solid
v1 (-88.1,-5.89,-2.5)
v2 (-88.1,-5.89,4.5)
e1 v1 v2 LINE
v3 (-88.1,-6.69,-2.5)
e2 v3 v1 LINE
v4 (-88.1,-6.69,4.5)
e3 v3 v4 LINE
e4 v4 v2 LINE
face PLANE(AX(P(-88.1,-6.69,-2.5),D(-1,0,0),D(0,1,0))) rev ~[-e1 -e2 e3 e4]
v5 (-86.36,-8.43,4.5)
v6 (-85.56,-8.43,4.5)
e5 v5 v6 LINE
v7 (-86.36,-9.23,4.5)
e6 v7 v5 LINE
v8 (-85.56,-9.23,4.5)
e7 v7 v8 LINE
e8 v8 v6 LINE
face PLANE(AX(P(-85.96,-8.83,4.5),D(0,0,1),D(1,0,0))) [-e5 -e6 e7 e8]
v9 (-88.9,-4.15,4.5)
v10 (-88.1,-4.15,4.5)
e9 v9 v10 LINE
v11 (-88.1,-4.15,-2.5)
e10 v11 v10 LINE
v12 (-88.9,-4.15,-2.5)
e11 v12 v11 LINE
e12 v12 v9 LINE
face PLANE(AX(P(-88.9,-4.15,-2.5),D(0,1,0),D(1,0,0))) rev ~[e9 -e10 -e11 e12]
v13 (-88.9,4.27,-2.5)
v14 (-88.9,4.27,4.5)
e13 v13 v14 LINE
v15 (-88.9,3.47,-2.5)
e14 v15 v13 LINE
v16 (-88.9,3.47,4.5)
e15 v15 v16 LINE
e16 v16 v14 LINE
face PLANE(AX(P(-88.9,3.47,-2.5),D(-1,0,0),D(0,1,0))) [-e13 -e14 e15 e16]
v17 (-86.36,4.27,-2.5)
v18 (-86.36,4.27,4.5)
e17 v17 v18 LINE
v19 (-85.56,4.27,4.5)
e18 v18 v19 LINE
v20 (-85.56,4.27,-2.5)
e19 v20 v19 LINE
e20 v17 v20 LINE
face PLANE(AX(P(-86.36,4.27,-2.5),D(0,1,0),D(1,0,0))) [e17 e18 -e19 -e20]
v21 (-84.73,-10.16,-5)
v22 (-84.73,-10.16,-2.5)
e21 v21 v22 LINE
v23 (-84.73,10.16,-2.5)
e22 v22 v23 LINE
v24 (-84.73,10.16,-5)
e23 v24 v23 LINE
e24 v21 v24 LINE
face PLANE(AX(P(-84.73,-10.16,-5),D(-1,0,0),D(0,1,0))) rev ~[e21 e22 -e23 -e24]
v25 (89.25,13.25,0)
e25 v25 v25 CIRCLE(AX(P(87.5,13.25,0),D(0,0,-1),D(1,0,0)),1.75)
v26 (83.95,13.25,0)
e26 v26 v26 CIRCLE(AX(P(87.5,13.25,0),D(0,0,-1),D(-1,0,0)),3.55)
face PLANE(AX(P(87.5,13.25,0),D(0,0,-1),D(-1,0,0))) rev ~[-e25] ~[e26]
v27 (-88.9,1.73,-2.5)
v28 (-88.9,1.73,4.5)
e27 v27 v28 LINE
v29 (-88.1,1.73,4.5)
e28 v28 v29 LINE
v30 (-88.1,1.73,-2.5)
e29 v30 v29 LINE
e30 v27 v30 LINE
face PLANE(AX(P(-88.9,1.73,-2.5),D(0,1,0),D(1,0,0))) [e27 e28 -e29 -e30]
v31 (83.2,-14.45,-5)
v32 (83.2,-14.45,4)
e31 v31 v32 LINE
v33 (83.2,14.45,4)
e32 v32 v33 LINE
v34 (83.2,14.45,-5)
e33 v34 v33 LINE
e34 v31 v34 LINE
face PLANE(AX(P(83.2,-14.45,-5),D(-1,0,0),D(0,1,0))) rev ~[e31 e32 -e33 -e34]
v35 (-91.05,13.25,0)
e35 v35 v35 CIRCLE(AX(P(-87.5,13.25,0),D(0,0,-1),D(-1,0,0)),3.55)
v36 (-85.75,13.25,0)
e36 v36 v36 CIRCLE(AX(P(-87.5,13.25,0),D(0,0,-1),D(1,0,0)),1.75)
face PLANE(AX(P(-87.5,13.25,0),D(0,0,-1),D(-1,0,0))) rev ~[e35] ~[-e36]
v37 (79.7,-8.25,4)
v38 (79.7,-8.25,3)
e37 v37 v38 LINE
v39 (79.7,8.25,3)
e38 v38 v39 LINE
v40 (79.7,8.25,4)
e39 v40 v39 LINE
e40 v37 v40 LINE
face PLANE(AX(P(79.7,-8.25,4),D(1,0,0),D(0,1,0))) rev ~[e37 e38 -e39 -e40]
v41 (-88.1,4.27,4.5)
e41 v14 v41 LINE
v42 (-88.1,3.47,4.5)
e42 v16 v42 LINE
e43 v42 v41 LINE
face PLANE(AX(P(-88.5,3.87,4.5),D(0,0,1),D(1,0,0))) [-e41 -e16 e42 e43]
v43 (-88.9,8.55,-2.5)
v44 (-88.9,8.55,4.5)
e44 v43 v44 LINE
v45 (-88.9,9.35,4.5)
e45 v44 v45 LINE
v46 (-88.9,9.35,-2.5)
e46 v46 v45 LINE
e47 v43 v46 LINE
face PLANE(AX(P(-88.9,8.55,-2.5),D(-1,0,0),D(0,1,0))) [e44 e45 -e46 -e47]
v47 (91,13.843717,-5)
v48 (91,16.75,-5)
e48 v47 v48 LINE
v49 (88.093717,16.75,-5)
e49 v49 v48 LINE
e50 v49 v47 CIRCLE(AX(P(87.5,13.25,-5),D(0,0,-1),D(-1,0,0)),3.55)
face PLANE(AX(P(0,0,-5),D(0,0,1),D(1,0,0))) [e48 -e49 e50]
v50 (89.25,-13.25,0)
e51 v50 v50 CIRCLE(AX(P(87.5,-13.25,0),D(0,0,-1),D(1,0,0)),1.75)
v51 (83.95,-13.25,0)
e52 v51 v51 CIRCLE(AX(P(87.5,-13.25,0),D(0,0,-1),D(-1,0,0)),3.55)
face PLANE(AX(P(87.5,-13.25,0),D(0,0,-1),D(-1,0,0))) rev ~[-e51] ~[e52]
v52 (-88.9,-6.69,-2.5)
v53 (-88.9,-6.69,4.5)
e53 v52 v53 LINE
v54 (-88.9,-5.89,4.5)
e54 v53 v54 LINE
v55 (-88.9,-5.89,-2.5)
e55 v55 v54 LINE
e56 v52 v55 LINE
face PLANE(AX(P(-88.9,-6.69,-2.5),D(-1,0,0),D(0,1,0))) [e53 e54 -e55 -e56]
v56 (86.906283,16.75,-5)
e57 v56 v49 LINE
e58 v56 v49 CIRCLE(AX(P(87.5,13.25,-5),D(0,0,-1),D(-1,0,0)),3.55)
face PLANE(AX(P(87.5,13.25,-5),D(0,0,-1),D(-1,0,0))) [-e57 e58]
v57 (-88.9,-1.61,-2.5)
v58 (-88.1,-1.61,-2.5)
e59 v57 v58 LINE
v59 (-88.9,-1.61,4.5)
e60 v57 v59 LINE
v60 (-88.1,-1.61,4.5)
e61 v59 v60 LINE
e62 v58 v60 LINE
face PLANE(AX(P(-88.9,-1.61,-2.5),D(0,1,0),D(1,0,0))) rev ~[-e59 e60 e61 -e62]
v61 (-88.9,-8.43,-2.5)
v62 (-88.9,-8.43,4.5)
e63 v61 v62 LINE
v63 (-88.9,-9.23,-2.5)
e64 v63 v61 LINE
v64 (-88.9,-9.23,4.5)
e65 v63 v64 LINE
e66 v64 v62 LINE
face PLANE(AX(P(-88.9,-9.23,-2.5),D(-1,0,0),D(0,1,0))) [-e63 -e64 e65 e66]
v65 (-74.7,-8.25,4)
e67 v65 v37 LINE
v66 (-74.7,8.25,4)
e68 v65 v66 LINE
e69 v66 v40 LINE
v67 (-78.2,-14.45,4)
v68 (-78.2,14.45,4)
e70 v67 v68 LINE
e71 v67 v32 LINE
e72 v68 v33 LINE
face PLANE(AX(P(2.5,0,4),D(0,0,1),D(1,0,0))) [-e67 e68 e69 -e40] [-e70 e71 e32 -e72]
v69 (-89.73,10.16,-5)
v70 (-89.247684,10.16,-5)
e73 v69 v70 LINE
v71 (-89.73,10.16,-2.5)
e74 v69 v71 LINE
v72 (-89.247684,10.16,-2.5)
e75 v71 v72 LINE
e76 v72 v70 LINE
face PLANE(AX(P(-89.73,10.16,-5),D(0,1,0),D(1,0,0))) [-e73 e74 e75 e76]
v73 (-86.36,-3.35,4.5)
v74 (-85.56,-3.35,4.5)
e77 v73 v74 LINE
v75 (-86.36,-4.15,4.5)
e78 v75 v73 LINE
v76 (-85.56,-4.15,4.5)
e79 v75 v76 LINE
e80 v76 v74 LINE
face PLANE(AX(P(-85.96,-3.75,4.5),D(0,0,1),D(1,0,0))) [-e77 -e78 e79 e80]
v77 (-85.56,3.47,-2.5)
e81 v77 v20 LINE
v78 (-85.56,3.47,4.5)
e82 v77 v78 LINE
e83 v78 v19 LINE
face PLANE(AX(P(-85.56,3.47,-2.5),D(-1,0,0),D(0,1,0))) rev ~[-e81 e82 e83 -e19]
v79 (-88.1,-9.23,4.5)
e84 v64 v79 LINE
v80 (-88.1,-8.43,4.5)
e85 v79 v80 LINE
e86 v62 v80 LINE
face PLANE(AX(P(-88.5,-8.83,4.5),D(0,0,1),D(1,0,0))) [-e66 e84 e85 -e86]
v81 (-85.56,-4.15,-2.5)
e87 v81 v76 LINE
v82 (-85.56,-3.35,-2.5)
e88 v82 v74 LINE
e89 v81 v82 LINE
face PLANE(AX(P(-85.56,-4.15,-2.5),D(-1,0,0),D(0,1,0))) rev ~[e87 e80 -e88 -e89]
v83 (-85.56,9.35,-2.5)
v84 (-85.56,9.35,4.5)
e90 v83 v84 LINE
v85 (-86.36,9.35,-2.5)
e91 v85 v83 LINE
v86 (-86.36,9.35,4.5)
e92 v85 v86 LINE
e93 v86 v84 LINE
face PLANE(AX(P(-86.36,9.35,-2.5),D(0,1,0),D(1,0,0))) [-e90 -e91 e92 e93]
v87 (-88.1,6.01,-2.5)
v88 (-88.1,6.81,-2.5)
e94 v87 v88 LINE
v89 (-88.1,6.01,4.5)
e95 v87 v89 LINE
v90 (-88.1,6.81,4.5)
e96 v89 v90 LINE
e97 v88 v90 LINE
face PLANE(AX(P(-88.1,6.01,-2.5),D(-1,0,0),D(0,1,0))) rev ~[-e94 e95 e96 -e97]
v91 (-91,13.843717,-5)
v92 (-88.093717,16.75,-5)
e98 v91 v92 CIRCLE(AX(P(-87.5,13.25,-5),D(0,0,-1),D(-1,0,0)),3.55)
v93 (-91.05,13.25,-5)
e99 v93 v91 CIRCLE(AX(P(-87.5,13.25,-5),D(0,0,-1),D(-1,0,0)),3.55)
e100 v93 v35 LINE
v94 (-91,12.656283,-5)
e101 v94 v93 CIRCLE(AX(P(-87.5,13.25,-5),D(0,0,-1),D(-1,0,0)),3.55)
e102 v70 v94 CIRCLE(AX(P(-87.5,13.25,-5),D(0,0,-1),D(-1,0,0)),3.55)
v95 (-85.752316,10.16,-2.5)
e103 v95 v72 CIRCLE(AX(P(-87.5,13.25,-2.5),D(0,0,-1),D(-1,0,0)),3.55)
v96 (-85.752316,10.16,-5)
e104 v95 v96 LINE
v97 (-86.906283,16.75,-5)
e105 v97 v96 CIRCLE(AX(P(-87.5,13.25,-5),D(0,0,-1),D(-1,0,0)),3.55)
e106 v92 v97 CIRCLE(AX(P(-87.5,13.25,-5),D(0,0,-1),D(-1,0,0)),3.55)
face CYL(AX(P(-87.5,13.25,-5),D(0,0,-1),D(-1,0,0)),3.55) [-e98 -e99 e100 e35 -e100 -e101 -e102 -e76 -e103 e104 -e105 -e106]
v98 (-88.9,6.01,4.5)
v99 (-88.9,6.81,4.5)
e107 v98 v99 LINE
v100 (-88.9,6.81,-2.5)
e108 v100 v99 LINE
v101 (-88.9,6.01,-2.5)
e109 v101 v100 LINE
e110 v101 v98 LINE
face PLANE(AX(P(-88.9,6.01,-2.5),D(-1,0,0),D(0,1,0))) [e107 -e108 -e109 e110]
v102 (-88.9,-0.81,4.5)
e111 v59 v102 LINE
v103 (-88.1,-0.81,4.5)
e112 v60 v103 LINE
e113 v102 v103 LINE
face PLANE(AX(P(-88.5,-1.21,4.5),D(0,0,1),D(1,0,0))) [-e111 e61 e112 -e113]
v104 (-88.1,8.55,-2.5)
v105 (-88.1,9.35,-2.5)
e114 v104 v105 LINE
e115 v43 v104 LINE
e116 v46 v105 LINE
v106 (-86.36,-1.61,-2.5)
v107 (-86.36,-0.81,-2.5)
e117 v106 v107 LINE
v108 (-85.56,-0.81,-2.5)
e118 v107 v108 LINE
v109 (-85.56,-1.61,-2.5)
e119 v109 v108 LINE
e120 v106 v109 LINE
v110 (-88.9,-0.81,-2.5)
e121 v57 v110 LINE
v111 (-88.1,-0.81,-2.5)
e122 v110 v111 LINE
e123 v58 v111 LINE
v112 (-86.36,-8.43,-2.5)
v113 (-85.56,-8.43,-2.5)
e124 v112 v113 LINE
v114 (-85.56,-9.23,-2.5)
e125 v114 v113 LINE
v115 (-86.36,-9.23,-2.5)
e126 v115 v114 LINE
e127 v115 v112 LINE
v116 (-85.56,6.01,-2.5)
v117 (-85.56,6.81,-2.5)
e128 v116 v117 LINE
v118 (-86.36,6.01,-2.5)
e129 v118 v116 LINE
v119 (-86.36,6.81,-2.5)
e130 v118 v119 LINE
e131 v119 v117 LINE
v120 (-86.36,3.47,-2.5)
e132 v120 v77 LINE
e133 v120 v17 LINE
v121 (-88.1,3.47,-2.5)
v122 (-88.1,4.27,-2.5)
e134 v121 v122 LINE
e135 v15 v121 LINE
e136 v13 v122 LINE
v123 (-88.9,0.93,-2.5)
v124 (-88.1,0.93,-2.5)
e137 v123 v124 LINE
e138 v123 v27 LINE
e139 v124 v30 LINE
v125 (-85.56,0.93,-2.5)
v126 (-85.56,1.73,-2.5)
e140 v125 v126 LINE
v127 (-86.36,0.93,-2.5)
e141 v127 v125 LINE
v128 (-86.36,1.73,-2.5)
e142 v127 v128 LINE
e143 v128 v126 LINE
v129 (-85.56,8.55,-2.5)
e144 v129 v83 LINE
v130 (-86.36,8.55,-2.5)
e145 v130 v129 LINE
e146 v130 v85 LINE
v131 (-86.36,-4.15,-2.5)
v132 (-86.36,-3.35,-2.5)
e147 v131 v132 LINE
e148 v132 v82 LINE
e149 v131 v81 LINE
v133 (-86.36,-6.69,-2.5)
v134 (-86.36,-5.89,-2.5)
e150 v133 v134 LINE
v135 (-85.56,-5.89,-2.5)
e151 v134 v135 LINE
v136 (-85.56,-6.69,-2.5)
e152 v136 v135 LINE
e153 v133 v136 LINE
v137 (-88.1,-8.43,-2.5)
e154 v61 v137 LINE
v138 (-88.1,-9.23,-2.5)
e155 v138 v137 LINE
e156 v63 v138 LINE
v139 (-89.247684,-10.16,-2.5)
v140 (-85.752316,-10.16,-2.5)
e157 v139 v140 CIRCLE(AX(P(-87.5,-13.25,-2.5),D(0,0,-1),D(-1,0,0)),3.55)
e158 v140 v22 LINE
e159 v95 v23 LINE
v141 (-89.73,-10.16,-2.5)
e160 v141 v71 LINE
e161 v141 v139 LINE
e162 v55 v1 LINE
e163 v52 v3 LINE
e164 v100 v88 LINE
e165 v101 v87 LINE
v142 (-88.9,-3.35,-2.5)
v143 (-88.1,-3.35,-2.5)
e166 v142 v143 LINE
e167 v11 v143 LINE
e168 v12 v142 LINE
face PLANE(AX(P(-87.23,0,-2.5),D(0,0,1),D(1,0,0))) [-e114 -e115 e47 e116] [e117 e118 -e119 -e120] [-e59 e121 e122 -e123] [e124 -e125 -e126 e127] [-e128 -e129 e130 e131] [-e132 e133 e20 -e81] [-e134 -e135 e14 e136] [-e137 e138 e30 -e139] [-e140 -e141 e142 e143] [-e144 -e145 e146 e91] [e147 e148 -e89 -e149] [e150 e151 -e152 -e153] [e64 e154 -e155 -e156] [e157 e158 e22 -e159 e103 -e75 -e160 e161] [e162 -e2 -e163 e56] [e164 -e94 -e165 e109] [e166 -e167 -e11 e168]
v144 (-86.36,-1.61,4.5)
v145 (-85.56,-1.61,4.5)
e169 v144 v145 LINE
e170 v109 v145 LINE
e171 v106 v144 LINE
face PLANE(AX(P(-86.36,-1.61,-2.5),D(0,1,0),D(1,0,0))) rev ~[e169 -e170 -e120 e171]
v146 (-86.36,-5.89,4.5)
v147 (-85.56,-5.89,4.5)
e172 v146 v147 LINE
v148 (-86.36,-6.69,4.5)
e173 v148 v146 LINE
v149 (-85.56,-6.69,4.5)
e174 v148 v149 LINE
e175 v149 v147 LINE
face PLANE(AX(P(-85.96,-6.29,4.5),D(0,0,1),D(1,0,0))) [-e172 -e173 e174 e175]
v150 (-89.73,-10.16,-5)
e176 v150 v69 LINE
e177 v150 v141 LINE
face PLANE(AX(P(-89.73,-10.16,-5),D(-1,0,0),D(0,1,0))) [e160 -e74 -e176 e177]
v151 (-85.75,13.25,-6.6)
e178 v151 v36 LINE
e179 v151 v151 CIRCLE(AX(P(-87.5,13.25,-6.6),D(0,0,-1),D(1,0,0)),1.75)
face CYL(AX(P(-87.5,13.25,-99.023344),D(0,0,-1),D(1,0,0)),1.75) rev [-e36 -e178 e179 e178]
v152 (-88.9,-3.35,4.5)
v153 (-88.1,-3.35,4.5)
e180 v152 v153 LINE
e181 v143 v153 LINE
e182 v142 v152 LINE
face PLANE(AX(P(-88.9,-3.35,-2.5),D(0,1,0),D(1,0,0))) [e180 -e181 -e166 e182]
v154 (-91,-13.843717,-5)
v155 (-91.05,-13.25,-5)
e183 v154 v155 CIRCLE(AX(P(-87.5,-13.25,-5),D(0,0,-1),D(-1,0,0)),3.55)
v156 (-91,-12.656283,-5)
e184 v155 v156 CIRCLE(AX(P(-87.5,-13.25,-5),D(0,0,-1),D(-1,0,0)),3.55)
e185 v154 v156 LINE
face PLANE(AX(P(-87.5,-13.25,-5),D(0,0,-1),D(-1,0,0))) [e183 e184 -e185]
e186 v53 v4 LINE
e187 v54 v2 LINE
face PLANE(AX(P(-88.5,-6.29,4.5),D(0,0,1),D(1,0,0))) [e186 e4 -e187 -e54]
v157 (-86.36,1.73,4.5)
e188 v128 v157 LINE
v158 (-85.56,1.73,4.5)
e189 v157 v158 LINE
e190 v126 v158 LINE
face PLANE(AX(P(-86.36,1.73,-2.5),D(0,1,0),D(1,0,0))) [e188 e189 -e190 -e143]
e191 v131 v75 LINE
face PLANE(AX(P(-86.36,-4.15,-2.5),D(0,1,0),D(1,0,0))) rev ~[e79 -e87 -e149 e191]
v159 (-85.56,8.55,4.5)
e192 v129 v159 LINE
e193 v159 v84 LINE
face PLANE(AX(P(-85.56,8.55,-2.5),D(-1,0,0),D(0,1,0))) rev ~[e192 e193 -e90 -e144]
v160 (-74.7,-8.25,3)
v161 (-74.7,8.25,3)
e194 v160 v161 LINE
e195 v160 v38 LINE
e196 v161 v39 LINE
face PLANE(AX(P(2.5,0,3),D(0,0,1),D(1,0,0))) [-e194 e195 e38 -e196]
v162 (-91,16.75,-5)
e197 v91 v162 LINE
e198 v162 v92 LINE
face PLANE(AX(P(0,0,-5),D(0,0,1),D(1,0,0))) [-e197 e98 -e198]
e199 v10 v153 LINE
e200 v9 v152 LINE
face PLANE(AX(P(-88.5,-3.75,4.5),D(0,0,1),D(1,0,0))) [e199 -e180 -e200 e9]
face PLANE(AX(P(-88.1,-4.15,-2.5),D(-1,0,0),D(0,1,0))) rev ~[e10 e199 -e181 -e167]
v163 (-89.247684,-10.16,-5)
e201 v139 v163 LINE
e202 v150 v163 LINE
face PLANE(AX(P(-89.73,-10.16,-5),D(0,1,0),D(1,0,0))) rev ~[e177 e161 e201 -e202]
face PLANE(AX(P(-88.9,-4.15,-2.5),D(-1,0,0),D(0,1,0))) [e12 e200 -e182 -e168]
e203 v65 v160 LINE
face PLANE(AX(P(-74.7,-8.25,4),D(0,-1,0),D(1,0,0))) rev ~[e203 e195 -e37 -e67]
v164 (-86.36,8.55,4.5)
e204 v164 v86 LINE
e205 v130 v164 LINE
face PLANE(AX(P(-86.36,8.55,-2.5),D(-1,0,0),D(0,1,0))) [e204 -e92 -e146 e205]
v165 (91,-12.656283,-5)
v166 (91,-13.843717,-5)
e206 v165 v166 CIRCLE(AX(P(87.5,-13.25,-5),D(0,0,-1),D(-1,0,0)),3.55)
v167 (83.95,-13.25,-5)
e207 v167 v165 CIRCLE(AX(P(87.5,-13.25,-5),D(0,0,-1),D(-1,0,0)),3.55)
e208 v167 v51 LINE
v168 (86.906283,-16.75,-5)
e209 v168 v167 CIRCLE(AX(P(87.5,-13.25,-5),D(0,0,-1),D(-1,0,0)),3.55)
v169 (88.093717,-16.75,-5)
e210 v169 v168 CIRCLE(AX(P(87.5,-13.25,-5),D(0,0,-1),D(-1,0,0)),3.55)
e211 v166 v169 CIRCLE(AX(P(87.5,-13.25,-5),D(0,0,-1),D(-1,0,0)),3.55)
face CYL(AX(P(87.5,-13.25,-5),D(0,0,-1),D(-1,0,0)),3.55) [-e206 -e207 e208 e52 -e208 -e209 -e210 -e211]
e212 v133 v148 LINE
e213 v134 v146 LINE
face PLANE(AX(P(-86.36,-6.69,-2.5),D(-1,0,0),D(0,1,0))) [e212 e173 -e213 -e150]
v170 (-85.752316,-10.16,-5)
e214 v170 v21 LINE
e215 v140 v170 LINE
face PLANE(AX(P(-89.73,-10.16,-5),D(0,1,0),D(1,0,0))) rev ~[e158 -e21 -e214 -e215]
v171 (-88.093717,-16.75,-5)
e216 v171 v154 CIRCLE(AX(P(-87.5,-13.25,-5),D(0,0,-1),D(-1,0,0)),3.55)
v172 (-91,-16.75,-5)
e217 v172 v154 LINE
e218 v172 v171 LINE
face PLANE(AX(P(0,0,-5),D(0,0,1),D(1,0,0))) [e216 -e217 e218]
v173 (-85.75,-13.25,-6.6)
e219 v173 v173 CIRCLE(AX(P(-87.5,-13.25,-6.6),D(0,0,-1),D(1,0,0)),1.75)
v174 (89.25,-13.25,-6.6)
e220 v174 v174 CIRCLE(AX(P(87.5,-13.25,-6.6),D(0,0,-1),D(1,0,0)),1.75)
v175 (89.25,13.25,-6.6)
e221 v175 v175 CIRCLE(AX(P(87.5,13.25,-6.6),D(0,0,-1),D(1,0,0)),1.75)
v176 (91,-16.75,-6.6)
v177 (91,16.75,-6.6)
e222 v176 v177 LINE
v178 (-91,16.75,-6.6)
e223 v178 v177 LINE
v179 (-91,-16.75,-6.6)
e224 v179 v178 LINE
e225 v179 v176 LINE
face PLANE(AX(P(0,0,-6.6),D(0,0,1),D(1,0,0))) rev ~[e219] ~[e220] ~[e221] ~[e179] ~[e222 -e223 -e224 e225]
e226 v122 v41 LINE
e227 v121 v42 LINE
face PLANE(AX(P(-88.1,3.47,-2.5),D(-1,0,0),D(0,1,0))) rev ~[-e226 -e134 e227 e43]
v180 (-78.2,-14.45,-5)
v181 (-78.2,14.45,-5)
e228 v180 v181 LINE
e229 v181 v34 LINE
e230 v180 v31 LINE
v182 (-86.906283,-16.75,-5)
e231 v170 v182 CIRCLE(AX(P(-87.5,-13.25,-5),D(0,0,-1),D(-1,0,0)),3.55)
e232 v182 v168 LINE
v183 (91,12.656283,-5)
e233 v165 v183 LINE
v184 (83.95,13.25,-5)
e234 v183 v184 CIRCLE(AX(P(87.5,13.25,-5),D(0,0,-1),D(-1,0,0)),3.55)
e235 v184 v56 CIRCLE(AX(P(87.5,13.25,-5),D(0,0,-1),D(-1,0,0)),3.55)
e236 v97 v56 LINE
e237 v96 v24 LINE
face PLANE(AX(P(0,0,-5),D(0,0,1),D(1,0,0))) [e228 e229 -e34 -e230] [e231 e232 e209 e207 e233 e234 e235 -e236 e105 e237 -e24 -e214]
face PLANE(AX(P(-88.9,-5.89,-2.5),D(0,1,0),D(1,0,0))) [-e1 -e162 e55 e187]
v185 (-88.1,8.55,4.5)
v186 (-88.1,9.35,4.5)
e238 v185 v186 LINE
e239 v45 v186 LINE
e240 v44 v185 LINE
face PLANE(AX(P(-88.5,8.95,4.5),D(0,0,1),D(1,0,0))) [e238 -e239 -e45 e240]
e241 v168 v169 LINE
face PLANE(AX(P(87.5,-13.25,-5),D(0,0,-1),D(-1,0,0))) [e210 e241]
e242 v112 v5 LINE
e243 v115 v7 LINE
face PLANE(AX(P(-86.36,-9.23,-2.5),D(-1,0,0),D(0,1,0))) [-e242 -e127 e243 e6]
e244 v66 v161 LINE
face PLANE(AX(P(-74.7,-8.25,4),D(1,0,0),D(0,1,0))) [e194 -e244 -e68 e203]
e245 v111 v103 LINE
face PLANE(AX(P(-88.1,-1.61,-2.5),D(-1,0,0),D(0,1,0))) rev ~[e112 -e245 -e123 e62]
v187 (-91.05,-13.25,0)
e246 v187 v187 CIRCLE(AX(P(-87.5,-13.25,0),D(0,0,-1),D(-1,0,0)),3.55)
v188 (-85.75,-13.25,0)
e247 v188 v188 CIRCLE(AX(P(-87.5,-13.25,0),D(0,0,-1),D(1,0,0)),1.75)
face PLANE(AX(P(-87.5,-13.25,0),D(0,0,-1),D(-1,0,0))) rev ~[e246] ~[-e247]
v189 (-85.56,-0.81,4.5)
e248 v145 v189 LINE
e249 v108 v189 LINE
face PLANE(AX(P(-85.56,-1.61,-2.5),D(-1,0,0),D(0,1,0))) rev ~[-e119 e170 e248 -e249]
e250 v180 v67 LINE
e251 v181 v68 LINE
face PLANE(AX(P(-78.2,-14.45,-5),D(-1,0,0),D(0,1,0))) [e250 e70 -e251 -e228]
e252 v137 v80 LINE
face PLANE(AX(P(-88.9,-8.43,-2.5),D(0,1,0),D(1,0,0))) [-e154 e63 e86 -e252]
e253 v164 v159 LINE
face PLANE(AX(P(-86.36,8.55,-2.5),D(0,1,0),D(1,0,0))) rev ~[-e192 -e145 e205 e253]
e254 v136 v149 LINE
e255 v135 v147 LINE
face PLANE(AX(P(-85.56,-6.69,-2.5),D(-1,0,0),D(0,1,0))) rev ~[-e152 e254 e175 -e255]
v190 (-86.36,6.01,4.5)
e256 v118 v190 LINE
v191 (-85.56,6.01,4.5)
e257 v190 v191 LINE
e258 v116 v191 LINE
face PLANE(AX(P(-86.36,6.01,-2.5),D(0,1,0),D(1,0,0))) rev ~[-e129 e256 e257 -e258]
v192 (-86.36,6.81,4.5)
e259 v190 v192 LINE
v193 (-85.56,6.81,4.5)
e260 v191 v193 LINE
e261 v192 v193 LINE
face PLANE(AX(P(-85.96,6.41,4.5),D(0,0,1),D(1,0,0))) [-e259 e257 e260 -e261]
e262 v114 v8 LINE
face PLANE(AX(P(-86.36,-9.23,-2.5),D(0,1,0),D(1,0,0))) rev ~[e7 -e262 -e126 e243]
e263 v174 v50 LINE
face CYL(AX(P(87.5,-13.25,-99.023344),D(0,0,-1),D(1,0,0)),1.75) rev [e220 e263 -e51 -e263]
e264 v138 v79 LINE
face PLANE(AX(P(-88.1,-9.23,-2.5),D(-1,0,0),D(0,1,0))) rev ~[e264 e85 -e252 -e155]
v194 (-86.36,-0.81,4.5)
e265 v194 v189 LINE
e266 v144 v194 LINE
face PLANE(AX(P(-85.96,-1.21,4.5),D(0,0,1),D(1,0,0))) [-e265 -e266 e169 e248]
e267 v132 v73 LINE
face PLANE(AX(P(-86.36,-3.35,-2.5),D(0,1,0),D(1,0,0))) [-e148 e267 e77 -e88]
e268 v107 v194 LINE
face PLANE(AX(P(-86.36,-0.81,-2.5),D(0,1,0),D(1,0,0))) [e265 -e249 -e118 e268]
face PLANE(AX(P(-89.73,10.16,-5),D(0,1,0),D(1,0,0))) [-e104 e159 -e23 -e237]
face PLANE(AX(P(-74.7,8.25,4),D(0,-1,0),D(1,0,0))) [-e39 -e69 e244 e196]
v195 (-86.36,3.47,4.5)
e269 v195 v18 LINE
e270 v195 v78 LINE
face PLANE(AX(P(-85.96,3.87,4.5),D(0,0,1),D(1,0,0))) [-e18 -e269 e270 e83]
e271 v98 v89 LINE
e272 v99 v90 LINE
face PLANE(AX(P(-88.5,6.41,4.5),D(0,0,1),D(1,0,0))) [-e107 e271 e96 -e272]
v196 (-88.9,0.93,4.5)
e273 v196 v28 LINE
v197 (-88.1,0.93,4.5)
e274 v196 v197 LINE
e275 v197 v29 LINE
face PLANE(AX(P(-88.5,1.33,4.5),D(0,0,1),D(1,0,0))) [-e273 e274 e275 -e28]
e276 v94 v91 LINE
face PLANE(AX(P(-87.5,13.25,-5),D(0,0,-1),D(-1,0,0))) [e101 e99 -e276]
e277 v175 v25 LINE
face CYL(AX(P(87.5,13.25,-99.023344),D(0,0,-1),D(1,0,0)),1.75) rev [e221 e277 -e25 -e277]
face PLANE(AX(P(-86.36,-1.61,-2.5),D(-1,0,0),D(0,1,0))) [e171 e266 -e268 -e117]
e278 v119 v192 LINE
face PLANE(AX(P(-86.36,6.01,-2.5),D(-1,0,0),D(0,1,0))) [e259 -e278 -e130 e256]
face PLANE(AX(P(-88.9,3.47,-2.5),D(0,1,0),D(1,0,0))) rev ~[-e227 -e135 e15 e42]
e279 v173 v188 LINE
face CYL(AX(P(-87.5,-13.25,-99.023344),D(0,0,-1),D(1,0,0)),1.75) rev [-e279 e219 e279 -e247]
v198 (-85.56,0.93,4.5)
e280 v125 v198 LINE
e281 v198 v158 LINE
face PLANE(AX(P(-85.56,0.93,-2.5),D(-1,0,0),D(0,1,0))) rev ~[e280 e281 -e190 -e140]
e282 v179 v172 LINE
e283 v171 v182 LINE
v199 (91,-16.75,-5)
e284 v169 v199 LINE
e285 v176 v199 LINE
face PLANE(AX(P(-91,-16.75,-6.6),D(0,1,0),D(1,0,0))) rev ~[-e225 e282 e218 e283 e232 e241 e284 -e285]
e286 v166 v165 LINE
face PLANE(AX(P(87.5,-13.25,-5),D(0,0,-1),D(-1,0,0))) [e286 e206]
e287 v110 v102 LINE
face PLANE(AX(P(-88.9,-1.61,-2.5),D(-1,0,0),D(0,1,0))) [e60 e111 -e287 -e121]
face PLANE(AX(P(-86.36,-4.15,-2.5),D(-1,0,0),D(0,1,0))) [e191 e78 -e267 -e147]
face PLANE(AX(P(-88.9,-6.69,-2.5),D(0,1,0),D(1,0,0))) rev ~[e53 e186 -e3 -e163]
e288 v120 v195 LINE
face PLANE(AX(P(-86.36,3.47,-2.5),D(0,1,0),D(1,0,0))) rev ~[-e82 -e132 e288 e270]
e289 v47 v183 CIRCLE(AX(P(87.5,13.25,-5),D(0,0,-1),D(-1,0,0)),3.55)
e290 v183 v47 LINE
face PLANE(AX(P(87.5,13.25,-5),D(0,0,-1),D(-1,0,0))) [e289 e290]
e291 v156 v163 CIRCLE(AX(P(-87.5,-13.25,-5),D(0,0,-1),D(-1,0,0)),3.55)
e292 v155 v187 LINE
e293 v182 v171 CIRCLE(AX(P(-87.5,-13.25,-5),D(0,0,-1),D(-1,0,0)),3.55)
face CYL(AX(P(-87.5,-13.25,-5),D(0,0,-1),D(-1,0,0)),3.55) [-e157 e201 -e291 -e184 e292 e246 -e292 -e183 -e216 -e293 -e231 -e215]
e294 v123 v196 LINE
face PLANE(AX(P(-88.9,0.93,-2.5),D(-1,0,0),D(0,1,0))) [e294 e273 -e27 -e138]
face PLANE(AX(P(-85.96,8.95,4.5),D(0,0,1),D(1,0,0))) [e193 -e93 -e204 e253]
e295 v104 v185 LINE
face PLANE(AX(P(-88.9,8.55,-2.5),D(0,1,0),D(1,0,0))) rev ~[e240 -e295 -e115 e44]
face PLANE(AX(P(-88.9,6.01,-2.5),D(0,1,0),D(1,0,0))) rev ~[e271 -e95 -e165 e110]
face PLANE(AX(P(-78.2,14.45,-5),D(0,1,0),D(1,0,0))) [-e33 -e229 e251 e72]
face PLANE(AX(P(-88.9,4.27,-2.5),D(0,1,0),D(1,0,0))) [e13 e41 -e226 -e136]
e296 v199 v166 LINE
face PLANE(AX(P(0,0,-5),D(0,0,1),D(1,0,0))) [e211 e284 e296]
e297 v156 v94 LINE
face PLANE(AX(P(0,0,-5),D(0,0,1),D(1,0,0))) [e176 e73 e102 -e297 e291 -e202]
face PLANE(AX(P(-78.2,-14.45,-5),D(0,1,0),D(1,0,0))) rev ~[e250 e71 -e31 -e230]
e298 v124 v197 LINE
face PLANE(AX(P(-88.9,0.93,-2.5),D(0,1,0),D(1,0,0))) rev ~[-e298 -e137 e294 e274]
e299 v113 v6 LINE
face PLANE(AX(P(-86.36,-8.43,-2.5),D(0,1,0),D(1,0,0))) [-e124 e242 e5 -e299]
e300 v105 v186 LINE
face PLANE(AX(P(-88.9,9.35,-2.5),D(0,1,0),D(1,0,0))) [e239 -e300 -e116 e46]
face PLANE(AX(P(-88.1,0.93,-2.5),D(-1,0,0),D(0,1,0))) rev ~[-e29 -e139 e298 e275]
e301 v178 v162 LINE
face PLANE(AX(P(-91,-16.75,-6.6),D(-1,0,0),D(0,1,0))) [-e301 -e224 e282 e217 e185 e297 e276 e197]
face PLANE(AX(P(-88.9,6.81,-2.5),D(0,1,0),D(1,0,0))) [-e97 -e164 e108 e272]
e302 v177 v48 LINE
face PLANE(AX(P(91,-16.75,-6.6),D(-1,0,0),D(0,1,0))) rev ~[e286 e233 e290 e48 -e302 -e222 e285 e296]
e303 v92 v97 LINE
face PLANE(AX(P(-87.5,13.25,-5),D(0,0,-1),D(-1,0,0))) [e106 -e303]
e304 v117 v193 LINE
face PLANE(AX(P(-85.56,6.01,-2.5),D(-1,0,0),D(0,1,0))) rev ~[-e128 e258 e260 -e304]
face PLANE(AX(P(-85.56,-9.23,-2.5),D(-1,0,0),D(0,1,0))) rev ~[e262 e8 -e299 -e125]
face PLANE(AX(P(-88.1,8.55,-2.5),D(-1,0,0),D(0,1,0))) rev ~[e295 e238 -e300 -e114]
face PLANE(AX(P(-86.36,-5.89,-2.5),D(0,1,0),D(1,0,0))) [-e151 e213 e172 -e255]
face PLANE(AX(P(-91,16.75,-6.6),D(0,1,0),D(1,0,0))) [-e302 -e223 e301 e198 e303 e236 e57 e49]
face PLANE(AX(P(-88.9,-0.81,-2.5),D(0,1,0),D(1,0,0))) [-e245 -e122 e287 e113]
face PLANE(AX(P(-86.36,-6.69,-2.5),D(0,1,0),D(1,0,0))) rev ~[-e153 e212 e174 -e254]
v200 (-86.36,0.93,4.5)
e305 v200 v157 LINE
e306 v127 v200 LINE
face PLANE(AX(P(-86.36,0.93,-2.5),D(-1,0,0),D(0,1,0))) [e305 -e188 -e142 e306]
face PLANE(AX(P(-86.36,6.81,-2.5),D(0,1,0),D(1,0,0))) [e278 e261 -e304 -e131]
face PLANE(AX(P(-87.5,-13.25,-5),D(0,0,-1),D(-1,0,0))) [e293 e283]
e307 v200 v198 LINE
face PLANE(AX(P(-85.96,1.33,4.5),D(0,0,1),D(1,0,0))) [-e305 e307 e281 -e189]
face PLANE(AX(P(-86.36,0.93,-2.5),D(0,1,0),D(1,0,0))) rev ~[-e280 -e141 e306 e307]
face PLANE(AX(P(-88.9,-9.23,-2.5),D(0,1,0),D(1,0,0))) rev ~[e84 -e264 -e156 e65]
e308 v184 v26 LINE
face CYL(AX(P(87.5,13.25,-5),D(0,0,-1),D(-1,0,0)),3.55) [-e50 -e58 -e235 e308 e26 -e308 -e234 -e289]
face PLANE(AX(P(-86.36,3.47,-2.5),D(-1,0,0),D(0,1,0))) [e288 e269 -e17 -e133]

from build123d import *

# Parameters (mm, degrees)
SKETCH_2_W                  = 182
SKETCH_2_H                  = 33.5
EXTRUDE_1_DEPTH             = 1.6
SKETCH_3_W                  = 161.4
SKETCH_3_H                  = 28.9
EXTRUDE_2_DEPTH             = 9
SKETCH_4_W                  = 154.4
SKETCH_4_H                  = 16.5
CUT_EXTRUDE_1_DEPTH         = 1
SKETCH_6_R                  = 3.55
EXTRUDE_3_DEPTH             = 5
CUT_EXTRUDE_2_DEPTH         = 94.023343844
CUT_EXTRUDE_2_DEPTH_BACK    = 94.023343844
SKETCH_5_R                  = 1.75
SKETCH_9_W                  = 5
SKETCH_9_H                  = 20.32
EXTRUDE_5_DEPTH             = 2.5
SKETCH_10_W                 = 0.8
SKETCH_10_H                 = 0.8
EXTRUDE_6_DEPTH             = 7
PATTERN_LINEAR_1_COUNT      = 2
PATTERN_LINEAR_1_PITCH      = 2.54
PATTERN_LINEAR_1_COUNT_DIR2 = 8
PATTERN_LINEAR_1_PITCH_DIR2 = 2.54


with BuildPart() as part:
    # Эскиз2 → Бобышка-Вытянуть1 (new body)
    with BuildSketch(Plane.XY.offset(-6.6)):
        Rectangle(SKETCH_2_W, SKETCH_2_H)
    extrude(amount=EXTRUDE_1_DEPTH)

    # Эскиз3 → Бобышка-Вытянуть2 (add)
    with BuildSketch(Plane.XY.offset(-5)):
        with Locations((2.5, 0)):
            Rectangle(SKETCH_3_W, SKETCH_3_H)
    extrude(amount=EXTRUDE_2_DEPTH)

    # Эскиз4 → Вырез-Вытянуть1 (cut)
    with BuildSketch(Plane.XY.offset(4)):
        with Locations((2.5, 0)):
            Rectangle(SKETCH_4_W, SKETCH_4_H)
    extrude(amount=-CUT_EXTRUDE_1_DEPTH, mode=Mode.SUBTRACT)

    # Эскиз6 → Бобышка-Вытянуть3 (add)
    with BuildSketch(Plane(origin=(0, 0, -5), x_dir=(-1, 0, 0), z_dir=(0, 0, -1))):
        with Locations((-87.5, -13.25)):
            Circle(SKETCH_6_R)
        with Locations((-87.5, 13.25)):
            Circle(SKETCH_6_R)
        with Locations((87.5, 13.25)):
            Circle(SKETCH_6_R)
        with Locations((87.5, -13.25)):
            Circle(SKETCH_6_R)
    extrude(amount=-EXTRUDE_3_DEPTH)

    # Эскиз5 → Вырез-Вытянуть2 (cut, two sides: drawn at the far end of the back side and taken through both)
    with BuildSketch(Plane.XY.offset(-5).offset(-CUT_EXTRUDE_2_DEPTH_BACK)):
        with Locations((-87.5, 13.25)):
            Circle(SKETCH_5_R)
        with Locations((-87.5, -13.25)):
            Circle(SKETCH_5_R)
        with Locations((87.5, -13.25)):
            Circle(SKETCH_5_R)
        with Locations((87.5, 13.25)):
            Circle(SKETCH_5_R)
    extrude(amount=CUT_EXTRUDE_2_DEPTH + CUT_EXTRUDE_2_DEPTH_BACK, mode=Mode.SUBTRACT)

    # Эскиз9 → Бобышка-Вытянуть5 (add)
    with BuildSketch(Plane.XY.offset(-5)):
        with Locations((-87.23, 0)):
            Rectangle(SKETCH_9_W, SKETCH_9_H)
    extrude(amount=EXTRUDE_5_DEPTH)

    # Эскиз10 → Бобышка-Вытянуть6 (add)
    with BuildSketch(Plane.XY.offset(-2.5)):
        with Locations((-88.5, 8.95)):
            Rectangle(SKETCH_10_W, SKETCH_10_H)
    extrude_6 = extrude(amount=EXTRUDE_6_DEPTH)

    # Линейный массив1: Extrude 6 2 × 8
    with Locations(*[(i * PATTERN_LINEAR_1_PITCH, -j * PATTERN_LINEAR_1_PITCH_DIR2, 0) for i in range(PATTERN_LINEAR_1_COUNT) for j in range(PATTERN_LINEAR_1_COUNT_DIR2) if (i, j) != (0, 0)]):
        add(extrude_6)


solid = part.part
